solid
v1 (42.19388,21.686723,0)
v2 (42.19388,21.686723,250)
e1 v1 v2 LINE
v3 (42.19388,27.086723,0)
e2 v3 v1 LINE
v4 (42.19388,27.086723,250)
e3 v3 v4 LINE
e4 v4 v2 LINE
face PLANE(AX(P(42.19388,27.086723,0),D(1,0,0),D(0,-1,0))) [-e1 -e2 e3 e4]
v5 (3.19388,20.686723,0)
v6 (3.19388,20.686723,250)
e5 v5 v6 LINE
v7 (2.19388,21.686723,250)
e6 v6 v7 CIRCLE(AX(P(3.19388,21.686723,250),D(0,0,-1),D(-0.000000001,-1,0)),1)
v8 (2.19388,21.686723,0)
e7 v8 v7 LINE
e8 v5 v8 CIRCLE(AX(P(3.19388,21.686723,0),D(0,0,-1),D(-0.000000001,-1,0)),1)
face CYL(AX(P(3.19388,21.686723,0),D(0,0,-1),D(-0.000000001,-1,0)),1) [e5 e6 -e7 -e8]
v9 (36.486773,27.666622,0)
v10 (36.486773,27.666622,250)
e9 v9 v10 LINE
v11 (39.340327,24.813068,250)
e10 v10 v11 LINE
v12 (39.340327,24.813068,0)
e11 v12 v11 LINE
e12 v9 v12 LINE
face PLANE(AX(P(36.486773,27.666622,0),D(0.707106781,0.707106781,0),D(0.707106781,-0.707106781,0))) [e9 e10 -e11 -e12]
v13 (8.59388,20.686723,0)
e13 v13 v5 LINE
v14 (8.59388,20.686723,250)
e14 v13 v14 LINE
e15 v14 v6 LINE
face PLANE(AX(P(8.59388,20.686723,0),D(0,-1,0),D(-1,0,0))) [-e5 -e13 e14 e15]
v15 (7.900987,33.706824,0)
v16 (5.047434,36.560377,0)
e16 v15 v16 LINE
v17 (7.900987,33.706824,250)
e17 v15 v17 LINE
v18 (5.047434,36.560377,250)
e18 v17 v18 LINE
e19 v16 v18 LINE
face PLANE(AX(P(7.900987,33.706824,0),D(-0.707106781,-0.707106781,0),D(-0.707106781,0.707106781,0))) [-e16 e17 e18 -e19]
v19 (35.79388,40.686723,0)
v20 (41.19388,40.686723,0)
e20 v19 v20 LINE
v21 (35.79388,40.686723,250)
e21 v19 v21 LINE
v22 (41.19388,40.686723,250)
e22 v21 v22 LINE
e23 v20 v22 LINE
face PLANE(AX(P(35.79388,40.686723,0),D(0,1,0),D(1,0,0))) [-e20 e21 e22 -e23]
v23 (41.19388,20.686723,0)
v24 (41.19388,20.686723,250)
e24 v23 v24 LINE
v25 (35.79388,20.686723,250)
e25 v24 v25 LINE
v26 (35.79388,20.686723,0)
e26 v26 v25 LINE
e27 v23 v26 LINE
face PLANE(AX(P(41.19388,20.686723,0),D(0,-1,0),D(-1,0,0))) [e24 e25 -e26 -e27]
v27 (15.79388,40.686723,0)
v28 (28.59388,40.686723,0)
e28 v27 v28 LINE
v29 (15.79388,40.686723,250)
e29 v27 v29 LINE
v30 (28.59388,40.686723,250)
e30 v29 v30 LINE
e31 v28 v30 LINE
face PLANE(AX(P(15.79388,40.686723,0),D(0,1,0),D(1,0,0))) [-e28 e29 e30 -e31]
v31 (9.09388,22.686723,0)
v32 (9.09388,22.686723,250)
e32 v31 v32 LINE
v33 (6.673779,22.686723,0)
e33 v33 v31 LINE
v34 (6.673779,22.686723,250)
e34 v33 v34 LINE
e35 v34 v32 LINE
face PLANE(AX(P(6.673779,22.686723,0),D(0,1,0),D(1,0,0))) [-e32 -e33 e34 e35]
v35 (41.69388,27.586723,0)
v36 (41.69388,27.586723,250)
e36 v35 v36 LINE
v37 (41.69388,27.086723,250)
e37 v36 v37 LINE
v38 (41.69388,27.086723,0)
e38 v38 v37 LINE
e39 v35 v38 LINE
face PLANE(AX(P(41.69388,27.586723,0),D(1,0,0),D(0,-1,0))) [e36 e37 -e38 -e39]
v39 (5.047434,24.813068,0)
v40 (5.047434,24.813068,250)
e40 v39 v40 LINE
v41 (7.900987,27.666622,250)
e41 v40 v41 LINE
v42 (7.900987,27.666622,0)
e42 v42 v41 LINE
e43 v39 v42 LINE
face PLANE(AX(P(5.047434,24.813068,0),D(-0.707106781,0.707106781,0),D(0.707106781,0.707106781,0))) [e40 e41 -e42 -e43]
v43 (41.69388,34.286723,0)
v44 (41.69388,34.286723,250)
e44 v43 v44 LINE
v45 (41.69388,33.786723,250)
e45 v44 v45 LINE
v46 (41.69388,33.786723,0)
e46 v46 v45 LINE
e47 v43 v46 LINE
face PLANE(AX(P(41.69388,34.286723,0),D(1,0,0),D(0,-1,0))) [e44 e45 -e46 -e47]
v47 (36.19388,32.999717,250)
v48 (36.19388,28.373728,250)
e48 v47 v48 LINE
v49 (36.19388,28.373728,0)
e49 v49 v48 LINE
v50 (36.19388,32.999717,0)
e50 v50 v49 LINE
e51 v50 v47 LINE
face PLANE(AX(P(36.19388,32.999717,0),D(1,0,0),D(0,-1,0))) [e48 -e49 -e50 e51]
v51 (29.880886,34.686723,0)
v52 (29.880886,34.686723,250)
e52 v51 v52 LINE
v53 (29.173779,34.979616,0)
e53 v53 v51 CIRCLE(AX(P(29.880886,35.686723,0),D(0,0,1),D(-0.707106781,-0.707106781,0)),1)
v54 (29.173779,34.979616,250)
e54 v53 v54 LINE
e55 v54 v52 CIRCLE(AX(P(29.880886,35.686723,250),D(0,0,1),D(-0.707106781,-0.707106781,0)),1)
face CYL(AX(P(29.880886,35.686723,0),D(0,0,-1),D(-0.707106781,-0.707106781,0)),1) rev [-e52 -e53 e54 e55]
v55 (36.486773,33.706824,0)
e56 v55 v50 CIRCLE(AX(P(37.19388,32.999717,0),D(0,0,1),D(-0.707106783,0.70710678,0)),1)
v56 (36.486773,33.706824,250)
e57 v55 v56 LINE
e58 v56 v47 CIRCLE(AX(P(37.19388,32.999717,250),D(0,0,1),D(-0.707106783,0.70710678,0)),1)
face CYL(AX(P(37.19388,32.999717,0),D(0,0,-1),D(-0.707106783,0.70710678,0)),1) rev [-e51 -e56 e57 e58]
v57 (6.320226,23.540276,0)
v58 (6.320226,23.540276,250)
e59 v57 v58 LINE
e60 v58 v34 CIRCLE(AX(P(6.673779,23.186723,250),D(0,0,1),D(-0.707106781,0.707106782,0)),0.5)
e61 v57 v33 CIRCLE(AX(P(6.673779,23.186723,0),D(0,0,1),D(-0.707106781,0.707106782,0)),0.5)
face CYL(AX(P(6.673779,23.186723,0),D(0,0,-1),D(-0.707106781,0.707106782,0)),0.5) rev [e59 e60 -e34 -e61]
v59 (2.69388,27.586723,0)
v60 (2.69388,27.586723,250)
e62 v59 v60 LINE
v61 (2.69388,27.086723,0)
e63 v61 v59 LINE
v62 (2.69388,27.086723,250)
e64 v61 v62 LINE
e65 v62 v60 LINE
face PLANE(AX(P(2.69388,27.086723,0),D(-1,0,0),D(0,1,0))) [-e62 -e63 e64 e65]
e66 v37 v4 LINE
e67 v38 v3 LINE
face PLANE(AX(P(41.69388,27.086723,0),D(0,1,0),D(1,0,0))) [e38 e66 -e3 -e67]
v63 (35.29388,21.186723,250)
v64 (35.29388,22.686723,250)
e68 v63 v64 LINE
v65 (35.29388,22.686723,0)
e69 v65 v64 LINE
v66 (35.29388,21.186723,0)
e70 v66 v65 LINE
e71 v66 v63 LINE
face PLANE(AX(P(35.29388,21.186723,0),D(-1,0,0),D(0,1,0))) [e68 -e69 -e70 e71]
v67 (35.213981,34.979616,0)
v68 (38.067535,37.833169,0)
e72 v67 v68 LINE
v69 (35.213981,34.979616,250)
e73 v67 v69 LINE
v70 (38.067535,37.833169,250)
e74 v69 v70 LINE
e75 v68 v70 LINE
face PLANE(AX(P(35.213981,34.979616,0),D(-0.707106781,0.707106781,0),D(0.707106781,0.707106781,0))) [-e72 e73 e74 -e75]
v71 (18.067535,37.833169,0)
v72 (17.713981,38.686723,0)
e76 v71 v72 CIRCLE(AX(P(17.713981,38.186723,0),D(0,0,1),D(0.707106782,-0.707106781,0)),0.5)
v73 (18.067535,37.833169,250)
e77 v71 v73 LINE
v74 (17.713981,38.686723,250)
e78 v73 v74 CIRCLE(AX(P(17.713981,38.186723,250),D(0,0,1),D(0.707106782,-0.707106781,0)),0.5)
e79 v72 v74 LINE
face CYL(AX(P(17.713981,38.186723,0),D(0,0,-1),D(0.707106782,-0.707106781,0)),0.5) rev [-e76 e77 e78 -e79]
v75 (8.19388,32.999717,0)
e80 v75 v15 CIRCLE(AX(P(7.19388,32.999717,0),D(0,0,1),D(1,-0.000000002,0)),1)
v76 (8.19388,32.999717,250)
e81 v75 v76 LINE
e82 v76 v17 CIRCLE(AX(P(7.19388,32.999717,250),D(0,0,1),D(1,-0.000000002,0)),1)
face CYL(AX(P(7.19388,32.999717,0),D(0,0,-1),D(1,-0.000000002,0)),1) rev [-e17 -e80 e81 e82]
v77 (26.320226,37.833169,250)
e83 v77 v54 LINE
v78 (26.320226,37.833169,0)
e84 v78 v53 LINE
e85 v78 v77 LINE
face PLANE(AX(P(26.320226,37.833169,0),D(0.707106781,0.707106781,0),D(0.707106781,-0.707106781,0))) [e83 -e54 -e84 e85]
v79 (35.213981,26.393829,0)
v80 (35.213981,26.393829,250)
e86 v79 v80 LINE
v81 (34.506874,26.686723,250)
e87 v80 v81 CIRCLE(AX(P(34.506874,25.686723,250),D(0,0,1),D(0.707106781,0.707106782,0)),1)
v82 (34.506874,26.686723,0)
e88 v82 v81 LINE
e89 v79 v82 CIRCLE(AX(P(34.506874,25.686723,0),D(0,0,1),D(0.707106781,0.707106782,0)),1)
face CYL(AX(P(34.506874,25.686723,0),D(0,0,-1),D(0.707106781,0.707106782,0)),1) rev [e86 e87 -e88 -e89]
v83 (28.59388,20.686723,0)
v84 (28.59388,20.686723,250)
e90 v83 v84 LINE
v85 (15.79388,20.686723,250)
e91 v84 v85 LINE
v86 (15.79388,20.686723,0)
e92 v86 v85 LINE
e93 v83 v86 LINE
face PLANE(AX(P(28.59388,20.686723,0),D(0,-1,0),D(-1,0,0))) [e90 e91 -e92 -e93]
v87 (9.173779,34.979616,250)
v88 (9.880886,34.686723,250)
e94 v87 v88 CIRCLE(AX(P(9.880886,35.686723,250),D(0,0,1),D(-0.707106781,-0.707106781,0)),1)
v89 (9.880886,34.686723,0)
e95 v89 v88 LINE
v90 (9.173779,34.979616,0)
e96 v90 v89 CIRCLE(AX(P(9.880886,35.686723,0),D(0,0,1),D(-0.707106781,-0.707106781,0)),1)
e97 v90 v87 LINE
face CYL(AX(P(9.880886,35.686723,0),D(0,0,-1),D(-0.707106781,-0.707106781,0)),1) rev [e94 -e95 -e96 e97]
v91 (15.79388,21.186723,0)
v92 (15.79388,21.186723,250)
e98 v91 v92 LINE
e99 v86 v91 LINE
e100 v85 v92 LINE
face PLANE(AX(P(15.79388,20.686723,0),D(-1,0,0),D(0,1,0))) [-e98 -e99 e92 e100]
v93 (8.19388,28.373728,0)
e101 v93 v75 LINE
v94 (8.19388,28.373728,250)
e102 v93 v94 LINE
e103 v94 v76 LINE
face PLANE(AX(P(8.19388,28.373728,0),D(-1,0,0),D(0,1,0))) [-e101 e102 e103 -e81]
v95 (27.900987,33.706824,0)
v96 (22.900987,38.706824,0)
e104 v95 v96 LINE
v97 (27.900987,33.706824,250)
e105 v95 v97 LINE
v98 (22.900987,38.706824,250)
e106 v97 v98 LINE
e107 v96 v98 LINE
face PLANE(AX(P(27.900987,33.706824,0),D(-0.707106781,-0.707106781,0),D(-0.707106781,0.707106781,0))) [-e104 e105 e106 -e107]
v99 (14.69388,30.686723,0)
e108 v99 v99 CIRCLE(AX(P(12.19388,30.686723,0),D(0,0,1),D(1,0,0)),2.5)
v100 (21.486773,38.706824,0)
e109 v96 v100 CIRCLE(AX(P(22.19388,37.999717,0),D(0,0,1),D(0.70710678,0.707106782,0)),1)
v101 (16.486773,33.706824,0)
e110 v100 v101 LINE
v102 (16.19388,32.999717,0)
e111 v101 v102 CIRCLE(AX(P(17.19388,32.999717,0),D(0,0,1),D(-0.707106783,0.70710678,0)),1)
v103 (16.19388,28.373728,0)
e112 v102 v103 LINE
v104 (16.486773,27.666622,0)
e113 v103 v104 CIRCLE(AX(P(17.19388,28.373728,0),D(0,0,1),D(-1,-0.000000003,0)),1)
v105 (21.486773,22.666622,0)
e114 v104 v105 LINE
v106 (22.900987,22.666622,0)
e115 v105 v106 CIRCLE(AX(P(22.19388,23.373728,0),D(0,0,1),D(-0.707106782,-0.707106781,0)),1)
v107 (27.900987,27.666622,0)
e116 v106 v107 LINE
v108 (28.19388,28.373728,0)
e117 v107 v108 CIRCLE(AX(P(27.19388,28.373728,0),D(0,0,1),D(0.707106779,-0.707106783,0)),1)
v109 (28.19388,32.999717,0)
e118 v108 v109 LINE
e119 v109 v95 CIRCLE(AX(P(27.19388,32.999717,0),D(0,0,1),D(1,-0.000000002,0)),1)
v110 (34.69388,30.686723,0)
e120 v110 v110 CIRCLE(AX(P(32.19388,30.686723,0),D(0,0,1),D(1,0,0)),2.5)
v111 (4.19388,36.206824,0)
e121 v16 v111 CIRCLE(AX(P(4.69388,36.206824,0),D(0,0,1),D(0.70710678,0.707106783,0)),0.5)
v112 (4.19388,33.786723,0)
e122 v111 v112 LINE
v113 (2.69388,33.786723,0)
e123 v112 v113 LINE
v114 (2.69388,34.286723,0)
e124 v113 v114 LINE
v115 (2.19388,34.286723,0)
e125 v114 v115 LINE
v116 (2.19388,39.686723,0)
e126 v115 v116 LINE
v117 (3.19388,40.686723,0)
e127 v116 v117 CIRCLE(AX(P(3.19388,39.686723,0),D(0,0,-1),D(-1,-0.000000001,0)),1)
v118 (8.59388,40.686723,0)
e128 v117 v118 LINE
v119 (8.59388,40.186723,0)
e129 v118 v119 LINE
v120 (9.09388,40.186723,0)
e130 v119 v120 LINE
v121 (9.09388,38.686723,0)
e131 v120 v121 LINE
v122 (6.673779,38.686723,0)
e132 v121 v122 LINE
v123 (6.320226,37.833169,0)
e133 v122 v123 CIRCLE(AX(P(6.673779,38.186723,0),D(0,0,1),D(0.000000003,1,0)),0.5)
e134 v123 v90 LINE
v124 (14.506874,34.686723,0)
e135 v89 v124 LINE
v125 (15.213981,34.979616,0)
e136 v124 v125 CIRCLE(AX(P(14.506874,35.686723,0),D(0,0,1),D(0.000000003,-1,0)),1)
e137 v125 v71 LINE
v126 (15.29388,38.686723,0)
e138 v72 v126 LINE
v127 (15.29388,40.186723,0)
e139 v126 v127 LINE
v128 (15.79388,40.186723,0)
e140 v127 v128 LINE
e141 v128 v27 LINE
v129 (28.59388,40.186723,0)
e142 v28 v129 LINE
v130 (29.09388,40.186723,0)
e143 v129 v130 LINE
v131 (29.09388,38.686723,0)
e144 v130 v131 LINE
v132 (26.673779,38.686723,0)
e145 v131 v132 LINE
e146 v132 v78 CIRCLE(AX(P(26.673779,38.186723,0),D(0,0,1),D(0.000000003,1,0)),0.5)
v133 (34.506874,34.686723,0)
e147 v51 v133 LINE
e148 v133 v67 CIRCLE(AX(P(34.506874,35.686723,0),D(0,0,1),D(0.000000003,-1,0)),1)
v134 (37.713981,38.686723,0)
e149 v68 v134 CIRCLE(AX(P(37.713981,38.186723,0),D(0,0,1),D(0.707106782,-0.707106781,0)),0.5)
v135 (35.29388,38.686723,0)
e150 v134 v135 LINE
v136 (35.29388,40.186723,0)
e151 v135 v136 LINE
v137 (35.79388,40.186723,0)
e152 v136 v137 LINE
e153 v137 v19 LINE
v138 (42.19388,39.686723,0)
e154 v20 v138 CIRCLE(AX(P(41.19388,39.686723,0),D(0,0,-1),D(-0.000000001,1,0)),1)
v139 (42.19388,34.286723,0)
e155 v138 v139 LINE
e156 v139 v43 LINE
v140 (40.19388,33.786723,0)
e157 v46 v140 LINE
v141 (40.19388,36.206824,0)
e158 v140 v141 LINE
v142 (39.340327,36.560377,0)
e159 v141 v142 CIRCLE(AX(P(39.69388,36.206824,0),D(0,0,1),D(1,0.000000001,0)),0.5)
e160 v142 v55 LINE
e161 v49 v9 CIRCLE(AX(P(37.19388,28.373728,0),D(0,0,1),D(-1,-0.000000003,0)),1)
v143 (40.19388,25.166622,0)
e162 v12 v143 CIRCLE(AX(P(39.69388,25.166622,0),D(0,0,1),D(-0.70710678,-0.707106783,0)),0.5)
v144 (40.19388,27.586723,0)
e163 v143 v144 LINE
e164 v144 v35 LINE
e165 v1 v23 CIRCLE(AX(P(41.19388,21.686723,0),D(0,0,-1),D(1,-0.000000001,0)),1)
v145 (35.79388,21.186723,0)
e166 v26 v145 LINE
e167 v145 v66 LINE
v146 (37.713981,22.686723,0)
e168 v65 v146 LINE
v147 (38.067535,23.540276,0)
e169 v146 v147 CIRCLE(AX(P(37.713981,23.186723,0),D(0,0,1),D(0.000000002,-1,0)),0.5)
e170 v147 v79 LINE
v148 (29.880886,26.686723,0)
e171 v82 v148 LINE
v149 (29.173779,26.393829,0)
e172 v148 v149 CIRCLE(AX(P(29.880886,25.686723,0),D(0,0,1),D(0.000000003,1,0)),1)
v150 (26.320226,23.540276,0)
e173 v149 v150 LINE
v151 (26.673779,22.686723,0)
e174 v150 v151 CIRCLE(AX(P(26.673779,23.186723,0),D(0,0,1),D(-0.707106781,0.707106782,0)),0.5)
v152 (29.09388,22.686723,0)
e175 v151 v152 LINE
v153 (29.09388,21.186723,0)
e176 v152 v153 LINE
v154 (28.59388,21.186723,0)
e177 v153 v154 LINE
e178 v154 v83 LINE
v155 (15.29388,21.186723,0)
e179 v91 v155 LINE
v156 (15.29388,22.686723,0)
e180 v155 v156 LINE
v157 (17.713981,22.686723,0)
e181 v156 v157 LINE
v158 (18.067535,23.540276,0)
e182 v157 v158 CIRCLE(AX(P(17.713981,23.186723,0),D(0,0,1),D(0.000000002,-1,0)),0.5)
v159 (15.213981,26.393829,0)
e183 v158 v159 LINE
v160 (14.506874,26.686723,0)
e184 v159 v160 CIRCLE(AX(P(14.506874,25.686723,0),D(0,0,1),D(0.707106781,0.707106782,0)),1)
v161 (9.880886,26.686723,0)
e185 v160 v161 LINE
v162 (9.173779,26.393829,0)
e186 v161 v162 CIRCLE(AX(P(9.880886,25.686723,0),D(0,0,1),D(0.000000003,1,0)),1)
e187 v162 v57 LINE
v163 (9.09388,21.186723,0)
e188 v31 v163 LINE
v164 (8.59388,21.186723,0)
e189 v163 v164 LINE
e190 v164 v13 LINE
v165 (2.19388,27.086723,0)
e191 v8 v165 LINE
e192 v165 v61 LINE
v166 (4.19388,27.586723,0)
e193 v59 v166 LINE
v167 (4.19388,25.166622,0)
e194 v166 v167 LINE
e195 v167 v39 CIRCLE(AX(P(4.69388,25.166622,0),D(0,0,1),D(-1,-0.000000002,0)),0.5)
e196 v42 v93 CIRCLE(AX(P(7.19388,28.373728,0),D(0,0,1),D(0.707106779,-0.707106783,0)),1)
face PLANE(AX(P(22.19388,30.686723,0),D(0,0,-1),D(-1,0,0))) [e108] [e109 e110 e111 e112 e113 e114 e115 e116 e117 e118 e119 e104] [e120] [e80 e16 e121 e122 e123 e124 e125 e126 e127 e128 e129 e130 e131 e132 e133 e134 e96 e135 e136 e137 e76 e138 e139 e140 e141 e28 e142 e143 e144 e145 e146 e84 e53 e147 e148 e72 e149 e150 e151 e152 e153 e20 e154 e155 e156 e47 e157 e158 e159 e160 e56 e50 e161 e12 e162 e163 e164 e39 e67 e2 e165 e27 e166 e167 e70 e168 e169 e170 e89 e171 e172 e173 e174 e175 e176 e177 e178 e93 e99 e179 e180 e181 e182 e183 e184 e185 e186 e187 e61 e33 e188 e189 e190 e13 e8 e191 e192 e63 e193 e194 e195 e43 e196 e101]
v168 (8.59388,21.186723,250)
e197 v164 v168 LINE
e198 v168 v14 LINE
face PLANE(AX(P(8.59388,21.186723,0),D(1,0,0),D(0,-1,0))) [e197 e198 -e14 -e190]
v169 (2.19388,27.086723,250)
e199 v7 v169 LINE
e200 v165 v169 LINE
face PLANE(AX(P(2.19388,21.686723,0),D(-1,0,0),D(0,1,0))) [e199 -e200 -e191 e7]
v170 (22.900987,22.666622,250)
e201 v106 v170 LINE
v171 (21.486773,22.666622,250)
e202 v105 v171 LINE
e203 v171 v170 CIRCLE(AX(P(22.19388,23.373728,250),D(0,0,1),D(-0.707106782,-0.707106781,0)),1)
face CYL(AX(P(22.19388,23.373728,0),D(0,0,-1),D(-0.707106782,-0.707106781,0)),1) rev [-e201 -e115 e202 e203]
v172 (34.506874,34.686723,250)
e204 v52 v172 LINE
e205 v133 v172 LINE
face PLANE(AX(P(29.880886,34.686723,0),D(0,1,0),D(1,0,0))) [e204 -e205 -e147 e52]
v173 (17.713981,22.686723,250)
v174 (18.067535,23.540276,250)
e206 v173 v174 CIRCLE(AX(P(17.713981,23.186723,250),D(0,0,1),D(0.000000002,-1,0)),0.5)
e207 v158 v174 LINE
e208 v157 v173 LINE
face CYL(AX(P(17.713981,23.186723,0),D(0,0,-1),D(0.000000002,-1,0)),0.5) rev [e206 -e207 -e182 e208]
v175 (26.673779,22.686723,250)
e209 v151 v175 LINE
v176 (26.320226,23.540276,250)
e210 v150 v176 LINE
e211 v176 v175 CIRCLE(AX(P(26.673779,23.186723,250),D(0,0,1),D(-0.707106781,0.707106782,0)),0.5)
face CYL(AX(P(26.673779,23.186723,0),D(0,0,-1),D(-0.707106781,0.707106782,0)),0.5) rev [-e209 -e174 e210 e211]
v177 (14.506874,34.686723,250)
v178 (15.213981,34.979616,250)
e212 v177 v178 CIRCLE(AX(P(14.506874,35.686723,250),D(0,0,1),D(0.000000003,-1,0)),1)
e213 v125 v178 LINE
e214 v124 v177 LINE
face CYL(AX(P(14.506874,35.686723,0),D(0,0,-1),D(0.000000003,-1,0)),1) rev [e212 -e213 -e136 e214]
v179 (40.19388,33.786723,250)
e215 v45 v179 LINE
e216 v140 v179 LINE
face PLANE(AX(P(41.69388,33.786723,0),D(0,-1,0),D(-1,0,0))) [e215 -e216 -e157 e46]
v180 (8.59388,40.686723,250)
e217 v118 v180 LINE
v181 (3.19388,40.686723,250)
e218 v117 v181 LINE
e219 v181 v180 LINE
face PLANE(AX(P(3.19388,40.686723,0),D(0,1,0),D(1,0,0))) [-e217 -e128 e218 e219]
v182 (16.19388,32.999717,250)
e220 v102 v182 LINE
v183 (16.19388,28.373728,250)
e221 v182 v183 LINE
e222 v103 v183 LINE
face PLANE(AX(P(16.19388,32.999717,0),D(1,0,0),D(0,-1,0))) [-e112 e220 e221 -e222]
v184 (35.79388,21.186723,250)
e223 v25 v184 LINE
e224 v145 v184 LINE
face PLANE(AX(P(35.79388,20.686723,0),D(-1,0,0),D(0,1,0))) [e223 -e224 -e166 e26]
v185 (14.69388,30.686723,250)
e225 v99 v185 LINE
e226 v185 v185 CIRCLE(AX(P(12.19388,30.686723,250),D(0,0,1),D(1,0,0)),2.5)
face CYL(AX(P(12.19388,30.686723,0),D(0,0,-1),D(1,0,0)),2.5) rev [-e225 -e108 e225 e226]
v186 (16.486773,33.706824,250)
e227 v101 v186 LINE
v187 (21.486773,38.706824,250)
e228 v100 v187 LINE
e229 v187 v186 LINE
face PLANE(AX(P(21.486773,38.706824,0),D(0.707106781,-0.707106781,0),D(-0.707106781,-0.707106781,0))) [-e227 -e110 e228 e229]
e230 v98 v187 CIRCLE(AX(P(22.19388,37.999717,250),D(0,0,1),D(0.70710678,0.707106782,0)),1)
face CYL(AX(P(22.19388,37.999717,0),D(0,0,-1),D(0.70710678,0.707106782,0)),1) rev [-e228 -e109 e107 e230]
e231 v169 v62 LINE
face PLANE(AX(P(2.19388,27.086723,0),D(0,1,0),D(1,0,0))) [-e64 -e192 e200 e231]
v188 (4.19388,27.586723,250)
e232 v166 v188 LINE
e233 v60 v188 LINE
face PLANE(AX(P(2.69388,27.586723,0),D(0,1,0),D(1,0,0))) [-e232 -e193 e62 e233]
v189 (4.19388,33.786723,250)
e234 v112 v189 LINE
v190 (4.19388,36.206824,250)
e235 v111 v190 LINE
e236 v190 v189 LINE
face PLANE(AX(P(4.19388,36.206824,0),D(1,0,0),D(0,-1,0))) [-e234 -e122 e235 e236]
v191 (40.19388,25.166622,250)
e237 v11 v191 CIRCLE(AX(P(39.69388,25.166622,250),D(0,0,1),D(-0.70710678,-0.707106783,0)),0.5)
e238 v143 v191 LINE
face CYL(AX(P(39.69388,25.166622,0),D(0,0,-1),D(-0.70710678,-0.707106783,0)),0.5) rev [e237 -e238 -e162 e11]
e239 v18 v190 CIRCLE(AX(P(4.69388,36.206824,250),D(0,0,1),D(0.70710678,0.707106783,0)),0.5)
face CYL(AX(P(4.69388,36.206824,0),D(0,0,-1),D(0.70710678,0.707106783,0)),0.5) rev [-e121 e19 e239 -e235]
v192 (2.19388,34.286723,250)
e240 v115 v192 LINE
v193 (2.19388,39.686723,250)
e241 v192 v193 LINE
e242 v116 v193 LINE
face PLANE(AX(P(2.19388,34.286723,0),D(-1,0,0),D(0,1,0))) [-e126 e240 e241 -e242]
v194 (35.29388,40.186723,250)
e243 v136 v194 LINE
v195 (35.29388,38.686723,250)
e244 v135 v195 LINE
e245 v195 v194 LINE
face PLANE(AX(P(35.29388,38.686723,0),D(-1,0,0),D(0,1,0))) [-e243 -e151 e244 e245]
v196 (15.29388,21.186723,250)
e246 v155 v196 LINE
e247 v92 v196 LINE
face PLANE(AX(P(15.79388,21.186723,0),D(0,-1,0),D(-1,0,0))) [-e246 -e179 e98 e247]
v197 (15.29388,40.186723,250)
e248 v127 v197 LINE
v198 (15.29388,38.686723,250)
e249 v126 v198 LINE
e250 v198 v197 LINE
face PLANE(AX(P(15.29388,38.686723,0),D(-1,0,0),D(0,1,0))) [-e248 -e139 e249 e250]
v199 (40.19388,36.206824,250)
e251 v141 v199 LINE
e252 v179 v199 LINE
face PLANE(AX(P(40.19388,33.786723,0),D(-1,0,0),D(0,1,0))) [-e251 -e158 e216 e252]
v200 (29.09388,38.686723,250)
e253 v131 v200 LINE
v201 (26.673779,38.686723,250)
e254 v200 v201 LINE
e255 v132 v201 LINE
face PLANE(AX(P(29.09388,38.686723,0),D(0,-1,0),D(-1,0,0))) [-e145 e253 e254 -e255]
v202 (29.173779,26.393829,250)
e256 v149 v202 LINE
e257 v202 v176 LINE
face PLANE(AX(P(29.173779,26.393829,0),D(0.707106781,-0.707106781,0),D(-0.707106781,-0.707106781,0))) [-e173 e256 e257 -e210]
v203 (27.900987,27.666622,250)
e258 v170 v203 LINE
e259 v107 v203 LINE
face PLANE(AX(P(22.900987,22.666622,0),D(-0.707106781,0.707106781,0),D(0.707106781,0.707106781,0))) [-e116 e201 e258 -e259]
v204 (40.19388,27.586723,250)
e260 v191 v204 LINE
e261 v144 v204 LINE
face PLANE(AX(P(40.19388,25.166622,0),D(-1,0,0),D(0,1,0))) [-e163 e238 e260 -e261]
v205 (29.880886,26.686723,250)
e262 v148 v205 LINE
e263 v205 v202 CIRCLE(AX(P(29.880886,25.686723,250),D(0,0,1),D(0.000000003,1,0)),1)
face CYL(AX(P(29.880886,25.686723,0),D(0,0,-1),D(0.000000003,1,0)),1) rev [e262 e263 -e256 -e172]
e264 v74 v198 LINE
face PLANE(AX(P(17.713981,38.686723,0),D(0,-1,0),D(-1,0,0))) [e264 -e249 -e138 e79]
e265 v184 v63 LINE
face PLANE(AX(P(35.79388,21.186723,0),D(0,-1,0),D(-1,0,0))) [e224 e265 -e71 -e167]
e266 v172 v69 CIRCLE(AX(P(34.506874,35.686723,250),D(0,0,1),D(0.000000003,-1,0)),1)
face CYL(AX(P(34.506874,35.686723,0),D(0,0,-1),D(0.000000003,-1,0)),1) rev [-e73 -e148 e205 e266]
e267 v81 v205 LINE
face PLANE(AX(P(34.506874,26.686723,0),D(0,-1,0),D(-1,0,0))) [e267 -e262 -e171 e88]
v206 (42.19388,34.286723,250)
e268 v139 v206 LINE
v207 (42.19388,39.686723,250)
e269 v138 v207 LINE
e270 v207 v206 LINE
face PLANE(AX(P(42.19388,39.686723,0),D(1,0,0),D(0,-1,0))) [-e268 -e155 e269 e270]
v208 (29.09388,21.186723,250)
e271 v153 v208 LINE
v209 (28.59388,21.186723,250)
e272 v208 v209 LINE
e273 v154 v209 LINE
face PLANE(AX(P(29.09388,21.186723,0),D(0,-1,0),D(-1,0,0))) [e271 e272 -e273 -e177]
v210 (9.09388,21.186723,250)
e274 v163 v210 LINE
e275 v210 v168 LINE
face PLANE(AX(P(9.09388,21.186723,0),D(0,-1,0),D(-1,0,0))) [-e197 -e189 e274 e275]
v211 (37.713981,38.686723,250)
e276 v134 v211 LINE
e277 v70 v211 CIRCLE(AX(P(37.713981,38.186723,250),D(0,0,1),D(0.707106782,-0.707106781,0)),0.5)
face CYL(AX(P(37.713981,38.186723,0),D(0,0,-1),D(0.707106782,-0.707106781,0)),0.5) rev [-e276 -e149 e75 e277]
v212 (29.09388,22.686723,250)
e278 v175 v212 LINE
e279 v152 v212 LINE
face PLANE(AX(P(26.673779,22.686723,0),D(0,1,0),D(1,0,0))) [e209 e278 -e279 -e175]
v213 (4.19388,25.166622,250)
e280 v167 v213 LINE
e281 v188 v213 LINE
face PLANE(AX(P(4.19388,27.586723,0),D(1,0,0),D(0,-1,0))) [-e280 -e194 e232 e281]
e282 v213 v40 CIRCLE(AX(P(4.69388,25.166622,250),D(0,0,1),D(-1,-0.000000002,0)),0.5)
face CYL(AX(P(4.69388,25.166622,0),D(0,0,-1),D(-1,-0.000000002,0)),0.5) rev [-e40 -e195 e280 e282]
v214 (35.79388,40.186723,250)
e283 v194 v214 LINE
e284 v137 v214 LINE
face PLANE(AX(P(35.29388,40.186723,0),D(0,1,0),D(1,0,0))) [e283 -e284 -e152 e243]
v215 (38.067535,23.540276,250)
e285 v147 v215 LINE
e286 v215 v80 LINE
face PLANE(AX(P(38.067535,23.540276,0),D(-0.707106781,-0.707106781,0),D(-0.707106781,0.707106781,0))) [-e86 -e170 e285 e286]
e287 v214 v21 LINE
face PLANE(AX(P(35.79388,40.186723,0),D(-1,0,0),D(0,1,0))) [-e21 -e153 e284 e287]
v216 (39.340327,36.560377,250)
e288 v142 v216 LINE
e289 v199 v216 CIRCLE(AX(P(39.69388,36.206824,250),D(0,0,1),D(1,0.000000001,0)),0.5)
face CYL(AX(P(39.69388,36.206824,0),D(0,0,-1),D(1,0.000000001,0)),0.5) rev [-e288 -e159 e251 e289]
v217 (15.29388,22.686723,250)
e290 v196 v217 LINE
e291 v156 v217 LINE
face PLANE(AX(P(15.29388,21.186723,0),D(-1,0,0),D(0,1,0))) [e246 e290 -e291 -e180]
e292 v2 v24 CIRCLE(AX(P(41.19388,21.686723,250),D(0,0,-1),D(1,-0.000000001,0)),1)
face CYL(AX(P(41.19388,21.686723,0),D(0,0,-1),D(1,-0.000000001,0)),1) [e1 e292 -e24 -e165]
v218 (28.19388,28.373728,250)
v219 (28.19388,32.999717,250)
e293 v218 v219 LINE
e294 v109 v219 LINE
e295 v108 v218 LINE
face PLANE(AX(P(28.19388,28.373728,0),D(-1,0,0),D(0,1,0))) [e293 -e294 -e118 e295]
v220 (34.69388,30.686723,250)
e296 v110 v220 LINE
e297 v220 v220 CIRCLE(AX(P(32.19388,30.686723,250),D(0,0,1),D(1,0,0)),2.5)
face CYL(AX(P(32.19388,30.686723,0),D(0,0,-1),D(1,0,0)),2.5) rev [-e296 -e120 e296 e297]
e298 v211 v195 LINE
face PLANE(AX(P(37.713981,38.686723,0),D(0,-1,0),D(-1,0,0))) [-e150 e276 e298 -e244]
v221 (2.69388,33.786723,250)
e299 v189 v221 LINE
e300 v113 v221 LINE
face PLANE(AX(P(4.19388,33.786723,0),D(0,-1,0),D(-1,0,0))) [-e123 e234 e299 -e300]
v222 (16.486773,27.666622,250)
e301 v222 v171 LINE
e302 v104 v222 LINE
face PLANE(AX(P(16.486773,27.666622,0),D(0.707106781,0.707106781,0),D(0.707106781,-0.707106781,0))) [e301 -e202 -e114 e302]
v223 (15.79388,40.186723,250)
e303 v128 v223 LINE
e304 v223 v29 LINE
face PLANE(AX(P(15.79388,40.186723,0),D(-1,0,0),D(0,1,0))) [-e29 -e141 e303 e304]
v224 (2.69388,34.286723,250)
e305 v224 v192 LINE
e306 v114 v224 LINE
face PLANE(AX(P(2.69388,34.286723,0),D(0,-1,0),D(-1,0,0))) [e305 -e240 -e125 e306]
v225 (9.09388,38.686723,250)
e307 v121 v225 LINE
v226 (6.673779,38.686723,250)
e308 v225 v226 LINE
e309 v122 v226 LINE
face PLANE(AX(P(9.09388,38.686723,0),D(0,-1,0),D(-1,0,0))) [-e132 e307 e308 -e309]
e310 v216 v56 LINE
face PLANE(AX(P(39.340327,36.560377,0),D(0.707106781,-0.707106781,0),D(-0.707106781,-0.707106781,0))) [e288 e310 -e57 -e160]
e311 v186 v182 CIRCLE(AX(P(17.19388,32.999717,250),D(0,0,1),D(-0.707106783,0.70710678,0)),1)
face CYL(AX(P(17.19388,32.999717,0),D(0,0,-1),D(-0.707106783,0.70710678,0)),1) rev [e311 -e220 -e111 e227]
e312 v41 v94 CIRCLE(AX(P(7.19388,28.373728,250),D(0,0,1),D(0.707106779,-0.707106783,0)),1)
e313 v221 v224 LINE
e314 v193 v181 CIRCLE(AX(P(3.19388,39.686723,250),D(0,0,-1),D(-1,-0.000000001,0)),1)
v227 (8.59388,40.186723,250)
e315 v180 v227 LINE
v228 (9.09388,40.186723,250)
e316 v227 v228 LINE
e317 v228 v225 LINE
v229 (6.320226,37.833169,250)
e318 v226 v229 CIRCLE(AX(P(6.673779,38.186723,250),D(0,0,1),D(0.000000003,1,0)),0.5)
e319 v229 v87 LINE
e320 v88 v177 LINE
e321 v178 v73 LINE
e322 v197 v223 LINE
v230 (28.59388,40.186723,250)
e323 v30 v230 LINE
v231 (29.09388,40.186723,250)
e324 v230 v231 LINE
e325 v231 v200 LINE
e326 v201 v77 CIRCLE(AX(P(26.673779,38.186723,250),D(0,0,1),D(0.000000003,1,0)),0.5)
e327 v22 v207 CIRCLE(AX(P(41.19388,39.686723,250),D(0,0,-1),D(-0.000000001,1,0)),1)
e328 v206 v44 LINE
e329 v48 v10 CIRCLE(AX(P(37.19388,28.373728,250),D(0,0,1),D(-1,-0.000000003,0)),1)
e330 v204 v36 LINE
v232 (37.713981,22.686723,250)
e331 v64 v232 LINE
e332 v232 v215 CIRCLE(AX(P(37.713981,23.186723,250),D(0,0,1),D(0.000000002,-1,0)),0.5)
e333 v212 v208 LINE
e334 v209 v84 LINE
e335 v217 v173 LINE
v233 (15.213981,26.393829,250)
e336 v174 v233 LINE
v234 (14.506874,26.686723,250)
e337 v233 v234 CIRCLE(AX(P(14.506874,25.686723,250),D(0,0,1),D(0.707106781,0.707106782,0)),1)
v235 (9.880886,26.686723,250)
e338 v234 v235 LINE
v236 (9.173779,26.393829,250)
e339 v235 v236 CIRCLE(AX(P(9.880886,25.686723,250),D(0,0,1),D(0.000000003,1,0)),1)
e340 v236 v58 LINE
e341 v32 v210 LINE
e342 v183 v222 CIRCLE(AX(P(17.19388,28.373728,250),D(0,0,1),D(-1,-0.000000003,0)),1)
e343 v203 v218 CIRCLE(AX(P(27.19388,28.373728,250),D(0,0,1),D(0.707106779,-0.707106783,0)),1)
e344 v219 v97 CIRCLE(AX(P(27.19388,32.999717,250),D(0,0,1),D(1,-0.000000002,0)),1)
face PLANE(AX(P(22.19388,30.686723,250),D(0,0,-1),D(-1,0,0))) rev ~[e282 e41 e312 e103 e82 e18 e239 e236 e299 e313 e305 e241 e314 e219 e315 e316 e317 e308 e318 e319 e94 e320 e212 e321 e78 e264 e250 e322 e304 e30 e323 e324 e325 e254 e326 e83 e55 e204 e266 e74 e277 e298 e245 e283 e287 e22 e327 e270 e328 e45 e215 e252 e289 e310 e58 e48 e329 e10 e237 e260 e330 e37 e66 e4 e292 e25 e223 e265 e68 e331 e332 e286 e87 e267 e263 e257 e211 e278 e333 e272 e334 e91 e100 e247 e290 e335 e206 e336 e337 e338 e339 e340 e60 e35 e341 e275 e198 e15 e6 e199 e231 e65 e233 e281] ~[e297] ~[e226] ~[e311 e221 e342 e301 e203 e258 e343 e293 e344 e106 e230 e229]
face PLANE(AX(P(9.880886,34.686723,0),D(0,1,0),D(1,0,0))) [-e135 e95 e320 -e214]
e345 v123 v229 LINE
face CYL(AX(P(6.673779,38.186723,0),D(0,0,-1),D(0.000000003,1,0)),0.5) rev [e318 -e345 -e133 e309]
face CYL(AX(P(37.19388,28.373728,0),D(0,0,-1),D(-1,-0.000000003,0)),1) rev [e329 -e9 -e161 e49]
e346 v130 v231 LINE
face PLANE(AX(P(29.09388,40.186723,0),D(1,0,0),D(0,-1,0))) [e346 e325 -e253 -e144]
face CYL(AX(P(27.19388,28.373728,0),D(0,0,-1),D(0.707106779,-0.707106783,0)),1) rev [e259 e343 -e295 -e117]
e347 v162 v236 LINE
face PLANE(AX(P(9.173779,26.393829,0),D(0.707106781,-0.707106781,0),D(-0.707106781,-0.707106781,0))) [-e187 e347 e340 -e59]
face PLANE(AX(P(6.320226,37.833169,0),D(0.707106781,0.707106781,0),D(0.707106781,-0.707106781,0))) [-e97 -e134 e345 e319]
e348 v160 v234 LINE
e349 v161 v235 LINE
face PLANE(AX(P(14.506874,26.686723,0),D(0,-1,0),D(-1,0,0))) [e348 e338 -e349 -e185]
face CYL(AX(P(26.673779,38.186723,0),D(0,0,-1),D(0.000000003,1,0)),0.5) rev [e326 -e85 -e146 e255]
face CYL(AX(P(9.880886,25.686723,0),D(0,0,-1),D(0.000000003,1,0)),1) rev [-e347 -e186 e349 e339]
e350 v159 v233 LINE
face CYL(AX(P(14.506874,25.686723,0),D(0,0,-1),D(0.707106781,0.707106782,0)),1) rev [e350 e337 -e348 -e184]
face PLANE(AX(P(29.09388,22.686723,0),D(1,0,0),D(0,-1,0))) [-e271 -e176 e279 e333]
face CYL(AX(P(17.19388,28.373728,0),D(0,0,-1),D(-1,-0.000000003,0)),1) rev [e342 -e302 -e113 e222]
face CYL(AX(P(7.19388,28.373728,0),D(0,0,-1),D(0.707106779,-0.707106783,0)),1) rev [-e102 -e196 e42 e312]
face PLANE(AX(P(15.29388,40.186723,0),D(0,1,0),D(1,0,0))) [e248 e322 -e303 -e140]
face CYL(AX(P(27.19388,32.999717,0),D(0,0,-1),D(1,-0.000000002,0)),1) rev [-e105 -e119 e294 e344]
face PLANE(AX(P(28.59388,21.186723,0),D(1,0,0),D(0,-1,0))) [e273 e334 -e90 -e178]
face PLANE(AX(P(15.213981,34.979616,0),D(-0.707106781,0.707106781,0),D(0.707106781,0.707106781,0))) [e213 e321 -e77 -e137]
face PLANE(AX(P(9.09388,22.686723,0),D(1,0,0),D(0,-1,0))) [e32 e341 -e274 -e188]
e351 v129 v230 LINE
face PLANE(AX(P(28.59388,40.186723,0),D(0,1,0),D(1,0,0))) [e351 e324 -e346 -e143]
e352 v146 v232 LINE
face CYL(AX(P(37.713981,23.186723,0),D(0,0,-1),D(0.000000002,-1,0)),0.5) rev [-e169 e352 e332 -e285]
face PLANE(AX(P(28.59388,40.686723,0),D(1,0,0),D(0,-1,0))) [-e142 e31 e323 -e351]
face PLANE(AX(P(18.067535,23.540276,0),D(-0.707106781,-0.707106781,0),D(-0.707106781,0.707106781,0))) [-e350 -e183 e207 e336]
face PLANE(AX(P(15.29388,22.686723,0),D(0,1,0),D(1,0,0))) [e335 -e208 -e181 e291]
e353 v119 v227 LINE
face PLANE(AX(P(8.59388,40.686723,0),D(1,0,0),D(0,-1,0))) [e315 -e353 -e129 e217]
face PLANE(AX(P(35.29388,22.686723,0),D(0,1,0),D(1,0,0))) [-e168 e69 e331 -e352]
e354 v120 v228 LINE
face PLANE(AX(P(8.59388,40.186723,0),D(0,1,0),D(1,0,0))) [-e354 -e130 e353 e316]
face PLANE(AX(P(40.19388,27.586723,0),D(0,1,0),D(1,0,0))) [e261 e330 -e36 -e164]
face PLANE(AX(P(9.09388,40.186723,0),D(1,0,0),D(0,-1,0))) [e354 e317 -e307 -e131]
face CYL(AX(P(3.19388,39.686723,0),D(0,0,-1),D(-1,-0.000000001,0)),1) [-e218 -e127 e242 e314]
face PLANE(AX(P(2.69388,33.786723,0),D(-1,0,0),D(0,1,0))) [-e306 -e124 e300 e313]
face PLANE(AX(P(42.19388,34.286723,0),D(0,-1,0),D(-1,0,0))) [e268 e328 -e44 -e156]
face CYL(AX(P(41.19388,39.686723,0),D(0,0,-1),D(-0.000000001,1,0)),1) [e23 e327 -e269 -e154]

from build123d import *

# Parameters (mm, degrees)
SKETCH_1_R      = 2.5
EXTRUDE_1_DEPTH = 250


with BuildPart() as part:
    # 草图1 → 拉伸1 (new body)
    with BuildSketch(Plane.XY):
        with BuildLine():
            Line((36.486773435, 27.666621685), (39.340326826, 24.813068294))
            ThreePointArc((39.340326826, 24.813068294), (39.885221932, 24.704681919), (40.193880216, 25.166621685))
            Line((40.193880216, 25.166621685), (40.193880216, 27.586722697))
            Line((40.193880216, 27.586722697), (41.693880216, 27.586722697))
            Line((41.693880216, 27.586722697), (41.693880216, 27.086722697))
            Line((41.693880216, 27.086722697), (42.193880216, 27.086722697))
            Line((42.193880216, 27.086722697), (42.193880216, 21.686722697))
            ThreePointArc((42.193880216, 21.686722697), (41.900986997, 20.979615916), (41.193880216, 20.686722697))
            Line((41.193880216, 20.686722697), (35.793880216, 20.686722697))
            Line((35.793880216, 20.686722697), (35.793880216, 21.186722697))
            Line((35.793880216, 21.186722697), (35.293880216, 21.186722697))
            Line((35.293880216, 21.186722697), (35.293880216, 22.686722697))
            Line((35.293880216, 22.686722697), (37.713981229, 22.686722697))
            ThreePointArc((37.713981229, 22.686722697), (38.175920995, 22.995380981), (38.06753462, 23.540276088))
            Line((38.06753462, 23.540276088), (35.213981229, 26.393829479))
            ThreePointArc((35.213981229, 26.393829479), (34.88955788, 26.61060223), (34.506874448, 26.686722697))
            Line((34.506874448, 26.686722697), (29.880885985, 26.686722697))
            ThreePointArc((29.880885985, 26.686722697), (29.498202552, 26.61060223), (29.173779204, 26.393829479))
            Line((29.173779204, 26.393829479), (26.320225813, 23.540276088))
            ThreePointArc((26.320225813, 23.540276088), (26.211839437, 22.995380981), (26.673779204, 22.686722697))
            Line((26.673779204, 22.686722697), (29.093880216, 22.686722697))
            Line((29.093880216, 22.686722697), (29.093880216, 21.186722697))
            Line((29.093880216, 21.186722697), (28.593880216, 21.186722697))
            Line((28.593880216, 21.186722697), (28.593880216, 20.686722697))
            Line((28.593880216, 20.686722697), (15.793880216, 20.686722697))
            Line((15.793880216, 20.686722697), (15.793880216, 21.186722697))
            Line((15.793880216, 21.186722697), (15.293880216, 21.186722697))
            Line((15.293880216, 21.186722697), (15.293880216, 22.686722697))
            Line((15.293880216, 22.686722697), (17.713981229, 22.686722697))
            ThreePointArc((17.713981229, 22.686722697), (18.175920995, 22.995380981), (18.06753462, 23.540276088))
            Line((18.06753462, 23.540276088), (15.213981229, 26.393829479))
            ThreePointArc((15.213981229, 26.393829479), (14.88955788, 26.61060223), (14.506874448, 26.686722697))
            Line((14.506874448, 26.686722697), (9.880885985, 26.686722697))
            ThreePointArc((9.880885985, 26.686722697), (9.498202552, 26.61060223), (9.173779204, 26.393829479))
            Line((9.173779204, 26.393829479), (6.320225813, 23.540276088))
            ThreePointArc((6.320225813, 23.540276088), (6.211839437, 22.995380981), (6.673779204, 22.686722697))
            Line((6.673779204, 22.686722697), (9.093880216, 22.686722697))
            Line((9.093880216, 22.686722697), (9.093880216, 21.186722697))
            Line((9.093880216, 21.186722697), (8.593880216, 21.186722697))
            Line((8.593880216, 21.186722697), (8.593880216, 20.686722697))
            Line((8.593880216, 20.686722697), (3.193880216, 20.686722697))
            ThreePointArc((3.193880216, 20.686722697), (2.486773435, 20.979615916), (2.193880216, 21.686722697))
            Line((2.193880216, 21.686722697), (2.193880216, 27.086722697))
            Line((2.193880216, 27.086722697), (2.693880216, 27.086722697))
            Line((2.693880216, 27.086722697), (2.693880216, 27.586722697))
            Line((2.693880216, 27.586722697), (4.193880216, 27.586722697))
            Line((4.193880216, 27.586722697), (4.193880216, 25.166621685))
            ThreePointArc((4.193880216, 25.166621685), (4.5025385, 24.704681919), (5.047433607, 24.813068294))
            Line((5.047433607, 24.813068294), (7.900986997, 27.666621685))
            ThreePointArc((7.900986997, 27.666621685), (8.117759749, 27.991045034), (8.193880216, 28.373728466))
            Line((8.193880216, 28.373728466), (8.193880216, 32.999716929))
            ThreePointArc((8.193880216, 32.999716929), (8.117759749, 33.382400361), (7.900986997, 33.70682371))
            Line((7.900986997, 33.70682371), (5.047433607, 36.560377101))
            ThreePointArc((5.047433607, 36.560377101), (4.5025385, 36.668763476), (4.193880216, 36.20682371))
            Line((4.193880216, 36.20682371), (4.193880216, 33.786722697))
            Line((4.193880216, 33.786722697), (2.693880216, 33.786722697))
            Line((2.693880216, 33.786722697), (2.693880216, 34.286722697))
            Line((2.693880216, 34.286722697), (2.193880216, 34.286722697))
            Line((2.193880216, 34.286722697), (2.193880216, 39.686722697))
            ThreePointArc((2.193880216, 39.686722697), (2.486773435, 40.393829479), (3.193880216, 40.686722697))
            Line((3.193880216, 40.686722697), (8.593880216, 40.686722697))
            Line((8.593880216, 40.686722697), (8.593880216, 40.186722697))
            Line((8.593880216, 40.186722697), (9.093880216, 40.186722697))
            Line((9.093880216, 40.186722697), (9.093880216, 38.686722697))
            Line((9.093880216, 38.686722697), (6.673779204, 38.686722697))
            ThreePointArc((6.673779204, 38.686722697), (6.211839437, 38.378064414), (6.320225813, 37.833169307))
            Line((6.320225813, 37.833169307), (9.173779204, 34.979615916))
            ThreePointArc((9.173779204, 34.979615916), (9.498202552, 34.762843165), (9.880885985, 34.686722697))
            Line((9.880885985, 34.686722697), (14.506874448, 34.686722697))
            ThreePointArc((14.506874448, 34.686722697), (14.88955788, 34.762843165), (15.213981229, 34.979615916))
            Line((15.213981229, 34.979615916), (18.06753462, 37.833169307))
            ThreePointArc((18.06753462, 37.833169307), (18.175920995, 38.378064414), (17.713981229, 38.686722697))
            Line((17.713981229, 38.686722697), (15.293880216, 38.686722697))
            Line((15.293880216, 38.686722697), (15.293880216, 40.186722697))
            Line((15.293880216, 40.186722697), (15.793880216, 40.186722697))
            Line((15.793880216, 40.186722697), (15.793880216, 40.686722697))
            Line((15.793880216, 40.686722697), (28.593880216, 40.686722697))
            Line((28.593880216, 40.686722697), (28.593880216, 40.186722697))
            Line((28.593880216, 40.186722697), (29.093880216, 40.186722697))
            Line((29.093880216, 40.186722697), (29.093880216, 38.686722697))
            Line((29.093880216, 38.686722697), (26.673779204, 38.686722697))
            ThreePointArc((26.673779204, 38.686722697), (26.211839437, 38.378064414), (26.320225813, 37.833169307))
            Line((26.320225813, 37.833169307), (29.173779204, 34.979615916))
            ThreePointArc((29.173779204, 34.979615916), (29.498202552, 34.762843165), (29.880885985, 34.686722697))
            Line((29.880885985, 34.686722697), (34.506874448, 34.686722697))
            ThreePointArc((34.506874448, 34.686722697), (34.88955788, 34.762843165), (35.213981229, 34.979615916))
            Line((35.213981229, 34.979615916), (38.06753462, 37.833169307))
            ThreePointArc((38.06753462, 37.833169307), (38.175920995, 38.378064414), (37.713981229, 38.686722697))
            Line((37.713981229, 38.686722697), (35.293880216, 38.686722697))
            Line((35.293880216, 38.686722697), (35.293880216, 40.186722697))
            Line((35.293880216, 40.186722697), (35.793880216, 40.186722697))
            Line((35.793880216, 40.186722697), (35.793880216, 40.686722697))
            Line((35.793880216, 40.686722697), (41.193880216, 40.686722697))
            ThreePointArc((41.193880216, 40.686722697), (41.900986997, 40.393829479), (42.193880216, 39.686722697))
            Line((42.193880216, 39.686722697), (42.193880216, 34.286722697))
            Line((42.193880216, 34.286722697), (41.693880216, 34.286722697))
            Line((41.693880216, 34.286722697), (41.693880216, 33.786722697))
            Line((41.693880216, 33.786722697), (40.193880216, 33.786722697))
            Line((40.193880216, 33.786722697), (40.193880216, 36.20682371))
            ThreePointArc((40.193880216, 36.20682371), (39.885221932, 36.668763476), (39.340326826, 36.560377101))
            Line((39.340326826, 36.560377101), (36.486773435, 33.70682371))
            ThreePointArc((36.486773435, 33.70682371), (36.270000684, 33.382400361), (36.193880216, 32.999716929))
            Line((36.193880216, 32.999716929), (36.193880216, 28.373728466))
            ThreePointArc((36.193880216, 28.373728466), (36.270000684, 27.991045034), (36.486773435, 27.666621685))
        make_face()
        with Locations((12.193880216, 30.686722697)):
            Circle(SKETCH_1_R, mode=Mode.SUBTRACT)
        with Locations((32.193880216, 30.686722697)):
            Circle(SKETCH_1_R, mode=Mode.SUBTRACT)
        with BuildLine():
            Line((16.486773435, 27.666621685), (21.48677343, 22.66662169))
            ThreePointArc((21.48677343, 22.66662169), (22.193880211, 22.373728471), (22.900986992, 22.66662169))
            Line((22.900986992, 22.66662169), (27.900986992, 27.66662169))
            ThreePointArc((27.900986992, 27.66662169), (28.117759744, 27.991045039), (28.193880211, 28.373728471))
            Line((28.193880211, 28.373728471), (28.193880211, 32.999716923))
            ThreePointArc((28.193880211, 32.999716923), (28.117759744, 33.382400355), (27.900986992, 33.706823704))
            Line((27.900986992, 33.706823704), (22.900986992, 38.706823705))
            ThreePointArc((22.900986992, 38.706823705), (22.193880211, 38.999716923), (21.48677343, 38.706823705))
            Line((21.48677343, 38.706823705), (16.486773435, 33.70682371))
            ThreePointArc((16.486773435, 33.70682371), (16.270000684, 33.382400361), (16.193880216, 32.999716929))
            Line((16.193880216, 32.999716929), (16.193880216, 28.373728466))
            ThreePointArc((16.193880216, 28.373728466), (16.270000684, 27.991045034), (16.486773435, 27.666621685))
        make_face(mode=Mode.SUBTRACT)
    extrude(amount=EXTRUDE_1_DEPTH)


solid = part.part
